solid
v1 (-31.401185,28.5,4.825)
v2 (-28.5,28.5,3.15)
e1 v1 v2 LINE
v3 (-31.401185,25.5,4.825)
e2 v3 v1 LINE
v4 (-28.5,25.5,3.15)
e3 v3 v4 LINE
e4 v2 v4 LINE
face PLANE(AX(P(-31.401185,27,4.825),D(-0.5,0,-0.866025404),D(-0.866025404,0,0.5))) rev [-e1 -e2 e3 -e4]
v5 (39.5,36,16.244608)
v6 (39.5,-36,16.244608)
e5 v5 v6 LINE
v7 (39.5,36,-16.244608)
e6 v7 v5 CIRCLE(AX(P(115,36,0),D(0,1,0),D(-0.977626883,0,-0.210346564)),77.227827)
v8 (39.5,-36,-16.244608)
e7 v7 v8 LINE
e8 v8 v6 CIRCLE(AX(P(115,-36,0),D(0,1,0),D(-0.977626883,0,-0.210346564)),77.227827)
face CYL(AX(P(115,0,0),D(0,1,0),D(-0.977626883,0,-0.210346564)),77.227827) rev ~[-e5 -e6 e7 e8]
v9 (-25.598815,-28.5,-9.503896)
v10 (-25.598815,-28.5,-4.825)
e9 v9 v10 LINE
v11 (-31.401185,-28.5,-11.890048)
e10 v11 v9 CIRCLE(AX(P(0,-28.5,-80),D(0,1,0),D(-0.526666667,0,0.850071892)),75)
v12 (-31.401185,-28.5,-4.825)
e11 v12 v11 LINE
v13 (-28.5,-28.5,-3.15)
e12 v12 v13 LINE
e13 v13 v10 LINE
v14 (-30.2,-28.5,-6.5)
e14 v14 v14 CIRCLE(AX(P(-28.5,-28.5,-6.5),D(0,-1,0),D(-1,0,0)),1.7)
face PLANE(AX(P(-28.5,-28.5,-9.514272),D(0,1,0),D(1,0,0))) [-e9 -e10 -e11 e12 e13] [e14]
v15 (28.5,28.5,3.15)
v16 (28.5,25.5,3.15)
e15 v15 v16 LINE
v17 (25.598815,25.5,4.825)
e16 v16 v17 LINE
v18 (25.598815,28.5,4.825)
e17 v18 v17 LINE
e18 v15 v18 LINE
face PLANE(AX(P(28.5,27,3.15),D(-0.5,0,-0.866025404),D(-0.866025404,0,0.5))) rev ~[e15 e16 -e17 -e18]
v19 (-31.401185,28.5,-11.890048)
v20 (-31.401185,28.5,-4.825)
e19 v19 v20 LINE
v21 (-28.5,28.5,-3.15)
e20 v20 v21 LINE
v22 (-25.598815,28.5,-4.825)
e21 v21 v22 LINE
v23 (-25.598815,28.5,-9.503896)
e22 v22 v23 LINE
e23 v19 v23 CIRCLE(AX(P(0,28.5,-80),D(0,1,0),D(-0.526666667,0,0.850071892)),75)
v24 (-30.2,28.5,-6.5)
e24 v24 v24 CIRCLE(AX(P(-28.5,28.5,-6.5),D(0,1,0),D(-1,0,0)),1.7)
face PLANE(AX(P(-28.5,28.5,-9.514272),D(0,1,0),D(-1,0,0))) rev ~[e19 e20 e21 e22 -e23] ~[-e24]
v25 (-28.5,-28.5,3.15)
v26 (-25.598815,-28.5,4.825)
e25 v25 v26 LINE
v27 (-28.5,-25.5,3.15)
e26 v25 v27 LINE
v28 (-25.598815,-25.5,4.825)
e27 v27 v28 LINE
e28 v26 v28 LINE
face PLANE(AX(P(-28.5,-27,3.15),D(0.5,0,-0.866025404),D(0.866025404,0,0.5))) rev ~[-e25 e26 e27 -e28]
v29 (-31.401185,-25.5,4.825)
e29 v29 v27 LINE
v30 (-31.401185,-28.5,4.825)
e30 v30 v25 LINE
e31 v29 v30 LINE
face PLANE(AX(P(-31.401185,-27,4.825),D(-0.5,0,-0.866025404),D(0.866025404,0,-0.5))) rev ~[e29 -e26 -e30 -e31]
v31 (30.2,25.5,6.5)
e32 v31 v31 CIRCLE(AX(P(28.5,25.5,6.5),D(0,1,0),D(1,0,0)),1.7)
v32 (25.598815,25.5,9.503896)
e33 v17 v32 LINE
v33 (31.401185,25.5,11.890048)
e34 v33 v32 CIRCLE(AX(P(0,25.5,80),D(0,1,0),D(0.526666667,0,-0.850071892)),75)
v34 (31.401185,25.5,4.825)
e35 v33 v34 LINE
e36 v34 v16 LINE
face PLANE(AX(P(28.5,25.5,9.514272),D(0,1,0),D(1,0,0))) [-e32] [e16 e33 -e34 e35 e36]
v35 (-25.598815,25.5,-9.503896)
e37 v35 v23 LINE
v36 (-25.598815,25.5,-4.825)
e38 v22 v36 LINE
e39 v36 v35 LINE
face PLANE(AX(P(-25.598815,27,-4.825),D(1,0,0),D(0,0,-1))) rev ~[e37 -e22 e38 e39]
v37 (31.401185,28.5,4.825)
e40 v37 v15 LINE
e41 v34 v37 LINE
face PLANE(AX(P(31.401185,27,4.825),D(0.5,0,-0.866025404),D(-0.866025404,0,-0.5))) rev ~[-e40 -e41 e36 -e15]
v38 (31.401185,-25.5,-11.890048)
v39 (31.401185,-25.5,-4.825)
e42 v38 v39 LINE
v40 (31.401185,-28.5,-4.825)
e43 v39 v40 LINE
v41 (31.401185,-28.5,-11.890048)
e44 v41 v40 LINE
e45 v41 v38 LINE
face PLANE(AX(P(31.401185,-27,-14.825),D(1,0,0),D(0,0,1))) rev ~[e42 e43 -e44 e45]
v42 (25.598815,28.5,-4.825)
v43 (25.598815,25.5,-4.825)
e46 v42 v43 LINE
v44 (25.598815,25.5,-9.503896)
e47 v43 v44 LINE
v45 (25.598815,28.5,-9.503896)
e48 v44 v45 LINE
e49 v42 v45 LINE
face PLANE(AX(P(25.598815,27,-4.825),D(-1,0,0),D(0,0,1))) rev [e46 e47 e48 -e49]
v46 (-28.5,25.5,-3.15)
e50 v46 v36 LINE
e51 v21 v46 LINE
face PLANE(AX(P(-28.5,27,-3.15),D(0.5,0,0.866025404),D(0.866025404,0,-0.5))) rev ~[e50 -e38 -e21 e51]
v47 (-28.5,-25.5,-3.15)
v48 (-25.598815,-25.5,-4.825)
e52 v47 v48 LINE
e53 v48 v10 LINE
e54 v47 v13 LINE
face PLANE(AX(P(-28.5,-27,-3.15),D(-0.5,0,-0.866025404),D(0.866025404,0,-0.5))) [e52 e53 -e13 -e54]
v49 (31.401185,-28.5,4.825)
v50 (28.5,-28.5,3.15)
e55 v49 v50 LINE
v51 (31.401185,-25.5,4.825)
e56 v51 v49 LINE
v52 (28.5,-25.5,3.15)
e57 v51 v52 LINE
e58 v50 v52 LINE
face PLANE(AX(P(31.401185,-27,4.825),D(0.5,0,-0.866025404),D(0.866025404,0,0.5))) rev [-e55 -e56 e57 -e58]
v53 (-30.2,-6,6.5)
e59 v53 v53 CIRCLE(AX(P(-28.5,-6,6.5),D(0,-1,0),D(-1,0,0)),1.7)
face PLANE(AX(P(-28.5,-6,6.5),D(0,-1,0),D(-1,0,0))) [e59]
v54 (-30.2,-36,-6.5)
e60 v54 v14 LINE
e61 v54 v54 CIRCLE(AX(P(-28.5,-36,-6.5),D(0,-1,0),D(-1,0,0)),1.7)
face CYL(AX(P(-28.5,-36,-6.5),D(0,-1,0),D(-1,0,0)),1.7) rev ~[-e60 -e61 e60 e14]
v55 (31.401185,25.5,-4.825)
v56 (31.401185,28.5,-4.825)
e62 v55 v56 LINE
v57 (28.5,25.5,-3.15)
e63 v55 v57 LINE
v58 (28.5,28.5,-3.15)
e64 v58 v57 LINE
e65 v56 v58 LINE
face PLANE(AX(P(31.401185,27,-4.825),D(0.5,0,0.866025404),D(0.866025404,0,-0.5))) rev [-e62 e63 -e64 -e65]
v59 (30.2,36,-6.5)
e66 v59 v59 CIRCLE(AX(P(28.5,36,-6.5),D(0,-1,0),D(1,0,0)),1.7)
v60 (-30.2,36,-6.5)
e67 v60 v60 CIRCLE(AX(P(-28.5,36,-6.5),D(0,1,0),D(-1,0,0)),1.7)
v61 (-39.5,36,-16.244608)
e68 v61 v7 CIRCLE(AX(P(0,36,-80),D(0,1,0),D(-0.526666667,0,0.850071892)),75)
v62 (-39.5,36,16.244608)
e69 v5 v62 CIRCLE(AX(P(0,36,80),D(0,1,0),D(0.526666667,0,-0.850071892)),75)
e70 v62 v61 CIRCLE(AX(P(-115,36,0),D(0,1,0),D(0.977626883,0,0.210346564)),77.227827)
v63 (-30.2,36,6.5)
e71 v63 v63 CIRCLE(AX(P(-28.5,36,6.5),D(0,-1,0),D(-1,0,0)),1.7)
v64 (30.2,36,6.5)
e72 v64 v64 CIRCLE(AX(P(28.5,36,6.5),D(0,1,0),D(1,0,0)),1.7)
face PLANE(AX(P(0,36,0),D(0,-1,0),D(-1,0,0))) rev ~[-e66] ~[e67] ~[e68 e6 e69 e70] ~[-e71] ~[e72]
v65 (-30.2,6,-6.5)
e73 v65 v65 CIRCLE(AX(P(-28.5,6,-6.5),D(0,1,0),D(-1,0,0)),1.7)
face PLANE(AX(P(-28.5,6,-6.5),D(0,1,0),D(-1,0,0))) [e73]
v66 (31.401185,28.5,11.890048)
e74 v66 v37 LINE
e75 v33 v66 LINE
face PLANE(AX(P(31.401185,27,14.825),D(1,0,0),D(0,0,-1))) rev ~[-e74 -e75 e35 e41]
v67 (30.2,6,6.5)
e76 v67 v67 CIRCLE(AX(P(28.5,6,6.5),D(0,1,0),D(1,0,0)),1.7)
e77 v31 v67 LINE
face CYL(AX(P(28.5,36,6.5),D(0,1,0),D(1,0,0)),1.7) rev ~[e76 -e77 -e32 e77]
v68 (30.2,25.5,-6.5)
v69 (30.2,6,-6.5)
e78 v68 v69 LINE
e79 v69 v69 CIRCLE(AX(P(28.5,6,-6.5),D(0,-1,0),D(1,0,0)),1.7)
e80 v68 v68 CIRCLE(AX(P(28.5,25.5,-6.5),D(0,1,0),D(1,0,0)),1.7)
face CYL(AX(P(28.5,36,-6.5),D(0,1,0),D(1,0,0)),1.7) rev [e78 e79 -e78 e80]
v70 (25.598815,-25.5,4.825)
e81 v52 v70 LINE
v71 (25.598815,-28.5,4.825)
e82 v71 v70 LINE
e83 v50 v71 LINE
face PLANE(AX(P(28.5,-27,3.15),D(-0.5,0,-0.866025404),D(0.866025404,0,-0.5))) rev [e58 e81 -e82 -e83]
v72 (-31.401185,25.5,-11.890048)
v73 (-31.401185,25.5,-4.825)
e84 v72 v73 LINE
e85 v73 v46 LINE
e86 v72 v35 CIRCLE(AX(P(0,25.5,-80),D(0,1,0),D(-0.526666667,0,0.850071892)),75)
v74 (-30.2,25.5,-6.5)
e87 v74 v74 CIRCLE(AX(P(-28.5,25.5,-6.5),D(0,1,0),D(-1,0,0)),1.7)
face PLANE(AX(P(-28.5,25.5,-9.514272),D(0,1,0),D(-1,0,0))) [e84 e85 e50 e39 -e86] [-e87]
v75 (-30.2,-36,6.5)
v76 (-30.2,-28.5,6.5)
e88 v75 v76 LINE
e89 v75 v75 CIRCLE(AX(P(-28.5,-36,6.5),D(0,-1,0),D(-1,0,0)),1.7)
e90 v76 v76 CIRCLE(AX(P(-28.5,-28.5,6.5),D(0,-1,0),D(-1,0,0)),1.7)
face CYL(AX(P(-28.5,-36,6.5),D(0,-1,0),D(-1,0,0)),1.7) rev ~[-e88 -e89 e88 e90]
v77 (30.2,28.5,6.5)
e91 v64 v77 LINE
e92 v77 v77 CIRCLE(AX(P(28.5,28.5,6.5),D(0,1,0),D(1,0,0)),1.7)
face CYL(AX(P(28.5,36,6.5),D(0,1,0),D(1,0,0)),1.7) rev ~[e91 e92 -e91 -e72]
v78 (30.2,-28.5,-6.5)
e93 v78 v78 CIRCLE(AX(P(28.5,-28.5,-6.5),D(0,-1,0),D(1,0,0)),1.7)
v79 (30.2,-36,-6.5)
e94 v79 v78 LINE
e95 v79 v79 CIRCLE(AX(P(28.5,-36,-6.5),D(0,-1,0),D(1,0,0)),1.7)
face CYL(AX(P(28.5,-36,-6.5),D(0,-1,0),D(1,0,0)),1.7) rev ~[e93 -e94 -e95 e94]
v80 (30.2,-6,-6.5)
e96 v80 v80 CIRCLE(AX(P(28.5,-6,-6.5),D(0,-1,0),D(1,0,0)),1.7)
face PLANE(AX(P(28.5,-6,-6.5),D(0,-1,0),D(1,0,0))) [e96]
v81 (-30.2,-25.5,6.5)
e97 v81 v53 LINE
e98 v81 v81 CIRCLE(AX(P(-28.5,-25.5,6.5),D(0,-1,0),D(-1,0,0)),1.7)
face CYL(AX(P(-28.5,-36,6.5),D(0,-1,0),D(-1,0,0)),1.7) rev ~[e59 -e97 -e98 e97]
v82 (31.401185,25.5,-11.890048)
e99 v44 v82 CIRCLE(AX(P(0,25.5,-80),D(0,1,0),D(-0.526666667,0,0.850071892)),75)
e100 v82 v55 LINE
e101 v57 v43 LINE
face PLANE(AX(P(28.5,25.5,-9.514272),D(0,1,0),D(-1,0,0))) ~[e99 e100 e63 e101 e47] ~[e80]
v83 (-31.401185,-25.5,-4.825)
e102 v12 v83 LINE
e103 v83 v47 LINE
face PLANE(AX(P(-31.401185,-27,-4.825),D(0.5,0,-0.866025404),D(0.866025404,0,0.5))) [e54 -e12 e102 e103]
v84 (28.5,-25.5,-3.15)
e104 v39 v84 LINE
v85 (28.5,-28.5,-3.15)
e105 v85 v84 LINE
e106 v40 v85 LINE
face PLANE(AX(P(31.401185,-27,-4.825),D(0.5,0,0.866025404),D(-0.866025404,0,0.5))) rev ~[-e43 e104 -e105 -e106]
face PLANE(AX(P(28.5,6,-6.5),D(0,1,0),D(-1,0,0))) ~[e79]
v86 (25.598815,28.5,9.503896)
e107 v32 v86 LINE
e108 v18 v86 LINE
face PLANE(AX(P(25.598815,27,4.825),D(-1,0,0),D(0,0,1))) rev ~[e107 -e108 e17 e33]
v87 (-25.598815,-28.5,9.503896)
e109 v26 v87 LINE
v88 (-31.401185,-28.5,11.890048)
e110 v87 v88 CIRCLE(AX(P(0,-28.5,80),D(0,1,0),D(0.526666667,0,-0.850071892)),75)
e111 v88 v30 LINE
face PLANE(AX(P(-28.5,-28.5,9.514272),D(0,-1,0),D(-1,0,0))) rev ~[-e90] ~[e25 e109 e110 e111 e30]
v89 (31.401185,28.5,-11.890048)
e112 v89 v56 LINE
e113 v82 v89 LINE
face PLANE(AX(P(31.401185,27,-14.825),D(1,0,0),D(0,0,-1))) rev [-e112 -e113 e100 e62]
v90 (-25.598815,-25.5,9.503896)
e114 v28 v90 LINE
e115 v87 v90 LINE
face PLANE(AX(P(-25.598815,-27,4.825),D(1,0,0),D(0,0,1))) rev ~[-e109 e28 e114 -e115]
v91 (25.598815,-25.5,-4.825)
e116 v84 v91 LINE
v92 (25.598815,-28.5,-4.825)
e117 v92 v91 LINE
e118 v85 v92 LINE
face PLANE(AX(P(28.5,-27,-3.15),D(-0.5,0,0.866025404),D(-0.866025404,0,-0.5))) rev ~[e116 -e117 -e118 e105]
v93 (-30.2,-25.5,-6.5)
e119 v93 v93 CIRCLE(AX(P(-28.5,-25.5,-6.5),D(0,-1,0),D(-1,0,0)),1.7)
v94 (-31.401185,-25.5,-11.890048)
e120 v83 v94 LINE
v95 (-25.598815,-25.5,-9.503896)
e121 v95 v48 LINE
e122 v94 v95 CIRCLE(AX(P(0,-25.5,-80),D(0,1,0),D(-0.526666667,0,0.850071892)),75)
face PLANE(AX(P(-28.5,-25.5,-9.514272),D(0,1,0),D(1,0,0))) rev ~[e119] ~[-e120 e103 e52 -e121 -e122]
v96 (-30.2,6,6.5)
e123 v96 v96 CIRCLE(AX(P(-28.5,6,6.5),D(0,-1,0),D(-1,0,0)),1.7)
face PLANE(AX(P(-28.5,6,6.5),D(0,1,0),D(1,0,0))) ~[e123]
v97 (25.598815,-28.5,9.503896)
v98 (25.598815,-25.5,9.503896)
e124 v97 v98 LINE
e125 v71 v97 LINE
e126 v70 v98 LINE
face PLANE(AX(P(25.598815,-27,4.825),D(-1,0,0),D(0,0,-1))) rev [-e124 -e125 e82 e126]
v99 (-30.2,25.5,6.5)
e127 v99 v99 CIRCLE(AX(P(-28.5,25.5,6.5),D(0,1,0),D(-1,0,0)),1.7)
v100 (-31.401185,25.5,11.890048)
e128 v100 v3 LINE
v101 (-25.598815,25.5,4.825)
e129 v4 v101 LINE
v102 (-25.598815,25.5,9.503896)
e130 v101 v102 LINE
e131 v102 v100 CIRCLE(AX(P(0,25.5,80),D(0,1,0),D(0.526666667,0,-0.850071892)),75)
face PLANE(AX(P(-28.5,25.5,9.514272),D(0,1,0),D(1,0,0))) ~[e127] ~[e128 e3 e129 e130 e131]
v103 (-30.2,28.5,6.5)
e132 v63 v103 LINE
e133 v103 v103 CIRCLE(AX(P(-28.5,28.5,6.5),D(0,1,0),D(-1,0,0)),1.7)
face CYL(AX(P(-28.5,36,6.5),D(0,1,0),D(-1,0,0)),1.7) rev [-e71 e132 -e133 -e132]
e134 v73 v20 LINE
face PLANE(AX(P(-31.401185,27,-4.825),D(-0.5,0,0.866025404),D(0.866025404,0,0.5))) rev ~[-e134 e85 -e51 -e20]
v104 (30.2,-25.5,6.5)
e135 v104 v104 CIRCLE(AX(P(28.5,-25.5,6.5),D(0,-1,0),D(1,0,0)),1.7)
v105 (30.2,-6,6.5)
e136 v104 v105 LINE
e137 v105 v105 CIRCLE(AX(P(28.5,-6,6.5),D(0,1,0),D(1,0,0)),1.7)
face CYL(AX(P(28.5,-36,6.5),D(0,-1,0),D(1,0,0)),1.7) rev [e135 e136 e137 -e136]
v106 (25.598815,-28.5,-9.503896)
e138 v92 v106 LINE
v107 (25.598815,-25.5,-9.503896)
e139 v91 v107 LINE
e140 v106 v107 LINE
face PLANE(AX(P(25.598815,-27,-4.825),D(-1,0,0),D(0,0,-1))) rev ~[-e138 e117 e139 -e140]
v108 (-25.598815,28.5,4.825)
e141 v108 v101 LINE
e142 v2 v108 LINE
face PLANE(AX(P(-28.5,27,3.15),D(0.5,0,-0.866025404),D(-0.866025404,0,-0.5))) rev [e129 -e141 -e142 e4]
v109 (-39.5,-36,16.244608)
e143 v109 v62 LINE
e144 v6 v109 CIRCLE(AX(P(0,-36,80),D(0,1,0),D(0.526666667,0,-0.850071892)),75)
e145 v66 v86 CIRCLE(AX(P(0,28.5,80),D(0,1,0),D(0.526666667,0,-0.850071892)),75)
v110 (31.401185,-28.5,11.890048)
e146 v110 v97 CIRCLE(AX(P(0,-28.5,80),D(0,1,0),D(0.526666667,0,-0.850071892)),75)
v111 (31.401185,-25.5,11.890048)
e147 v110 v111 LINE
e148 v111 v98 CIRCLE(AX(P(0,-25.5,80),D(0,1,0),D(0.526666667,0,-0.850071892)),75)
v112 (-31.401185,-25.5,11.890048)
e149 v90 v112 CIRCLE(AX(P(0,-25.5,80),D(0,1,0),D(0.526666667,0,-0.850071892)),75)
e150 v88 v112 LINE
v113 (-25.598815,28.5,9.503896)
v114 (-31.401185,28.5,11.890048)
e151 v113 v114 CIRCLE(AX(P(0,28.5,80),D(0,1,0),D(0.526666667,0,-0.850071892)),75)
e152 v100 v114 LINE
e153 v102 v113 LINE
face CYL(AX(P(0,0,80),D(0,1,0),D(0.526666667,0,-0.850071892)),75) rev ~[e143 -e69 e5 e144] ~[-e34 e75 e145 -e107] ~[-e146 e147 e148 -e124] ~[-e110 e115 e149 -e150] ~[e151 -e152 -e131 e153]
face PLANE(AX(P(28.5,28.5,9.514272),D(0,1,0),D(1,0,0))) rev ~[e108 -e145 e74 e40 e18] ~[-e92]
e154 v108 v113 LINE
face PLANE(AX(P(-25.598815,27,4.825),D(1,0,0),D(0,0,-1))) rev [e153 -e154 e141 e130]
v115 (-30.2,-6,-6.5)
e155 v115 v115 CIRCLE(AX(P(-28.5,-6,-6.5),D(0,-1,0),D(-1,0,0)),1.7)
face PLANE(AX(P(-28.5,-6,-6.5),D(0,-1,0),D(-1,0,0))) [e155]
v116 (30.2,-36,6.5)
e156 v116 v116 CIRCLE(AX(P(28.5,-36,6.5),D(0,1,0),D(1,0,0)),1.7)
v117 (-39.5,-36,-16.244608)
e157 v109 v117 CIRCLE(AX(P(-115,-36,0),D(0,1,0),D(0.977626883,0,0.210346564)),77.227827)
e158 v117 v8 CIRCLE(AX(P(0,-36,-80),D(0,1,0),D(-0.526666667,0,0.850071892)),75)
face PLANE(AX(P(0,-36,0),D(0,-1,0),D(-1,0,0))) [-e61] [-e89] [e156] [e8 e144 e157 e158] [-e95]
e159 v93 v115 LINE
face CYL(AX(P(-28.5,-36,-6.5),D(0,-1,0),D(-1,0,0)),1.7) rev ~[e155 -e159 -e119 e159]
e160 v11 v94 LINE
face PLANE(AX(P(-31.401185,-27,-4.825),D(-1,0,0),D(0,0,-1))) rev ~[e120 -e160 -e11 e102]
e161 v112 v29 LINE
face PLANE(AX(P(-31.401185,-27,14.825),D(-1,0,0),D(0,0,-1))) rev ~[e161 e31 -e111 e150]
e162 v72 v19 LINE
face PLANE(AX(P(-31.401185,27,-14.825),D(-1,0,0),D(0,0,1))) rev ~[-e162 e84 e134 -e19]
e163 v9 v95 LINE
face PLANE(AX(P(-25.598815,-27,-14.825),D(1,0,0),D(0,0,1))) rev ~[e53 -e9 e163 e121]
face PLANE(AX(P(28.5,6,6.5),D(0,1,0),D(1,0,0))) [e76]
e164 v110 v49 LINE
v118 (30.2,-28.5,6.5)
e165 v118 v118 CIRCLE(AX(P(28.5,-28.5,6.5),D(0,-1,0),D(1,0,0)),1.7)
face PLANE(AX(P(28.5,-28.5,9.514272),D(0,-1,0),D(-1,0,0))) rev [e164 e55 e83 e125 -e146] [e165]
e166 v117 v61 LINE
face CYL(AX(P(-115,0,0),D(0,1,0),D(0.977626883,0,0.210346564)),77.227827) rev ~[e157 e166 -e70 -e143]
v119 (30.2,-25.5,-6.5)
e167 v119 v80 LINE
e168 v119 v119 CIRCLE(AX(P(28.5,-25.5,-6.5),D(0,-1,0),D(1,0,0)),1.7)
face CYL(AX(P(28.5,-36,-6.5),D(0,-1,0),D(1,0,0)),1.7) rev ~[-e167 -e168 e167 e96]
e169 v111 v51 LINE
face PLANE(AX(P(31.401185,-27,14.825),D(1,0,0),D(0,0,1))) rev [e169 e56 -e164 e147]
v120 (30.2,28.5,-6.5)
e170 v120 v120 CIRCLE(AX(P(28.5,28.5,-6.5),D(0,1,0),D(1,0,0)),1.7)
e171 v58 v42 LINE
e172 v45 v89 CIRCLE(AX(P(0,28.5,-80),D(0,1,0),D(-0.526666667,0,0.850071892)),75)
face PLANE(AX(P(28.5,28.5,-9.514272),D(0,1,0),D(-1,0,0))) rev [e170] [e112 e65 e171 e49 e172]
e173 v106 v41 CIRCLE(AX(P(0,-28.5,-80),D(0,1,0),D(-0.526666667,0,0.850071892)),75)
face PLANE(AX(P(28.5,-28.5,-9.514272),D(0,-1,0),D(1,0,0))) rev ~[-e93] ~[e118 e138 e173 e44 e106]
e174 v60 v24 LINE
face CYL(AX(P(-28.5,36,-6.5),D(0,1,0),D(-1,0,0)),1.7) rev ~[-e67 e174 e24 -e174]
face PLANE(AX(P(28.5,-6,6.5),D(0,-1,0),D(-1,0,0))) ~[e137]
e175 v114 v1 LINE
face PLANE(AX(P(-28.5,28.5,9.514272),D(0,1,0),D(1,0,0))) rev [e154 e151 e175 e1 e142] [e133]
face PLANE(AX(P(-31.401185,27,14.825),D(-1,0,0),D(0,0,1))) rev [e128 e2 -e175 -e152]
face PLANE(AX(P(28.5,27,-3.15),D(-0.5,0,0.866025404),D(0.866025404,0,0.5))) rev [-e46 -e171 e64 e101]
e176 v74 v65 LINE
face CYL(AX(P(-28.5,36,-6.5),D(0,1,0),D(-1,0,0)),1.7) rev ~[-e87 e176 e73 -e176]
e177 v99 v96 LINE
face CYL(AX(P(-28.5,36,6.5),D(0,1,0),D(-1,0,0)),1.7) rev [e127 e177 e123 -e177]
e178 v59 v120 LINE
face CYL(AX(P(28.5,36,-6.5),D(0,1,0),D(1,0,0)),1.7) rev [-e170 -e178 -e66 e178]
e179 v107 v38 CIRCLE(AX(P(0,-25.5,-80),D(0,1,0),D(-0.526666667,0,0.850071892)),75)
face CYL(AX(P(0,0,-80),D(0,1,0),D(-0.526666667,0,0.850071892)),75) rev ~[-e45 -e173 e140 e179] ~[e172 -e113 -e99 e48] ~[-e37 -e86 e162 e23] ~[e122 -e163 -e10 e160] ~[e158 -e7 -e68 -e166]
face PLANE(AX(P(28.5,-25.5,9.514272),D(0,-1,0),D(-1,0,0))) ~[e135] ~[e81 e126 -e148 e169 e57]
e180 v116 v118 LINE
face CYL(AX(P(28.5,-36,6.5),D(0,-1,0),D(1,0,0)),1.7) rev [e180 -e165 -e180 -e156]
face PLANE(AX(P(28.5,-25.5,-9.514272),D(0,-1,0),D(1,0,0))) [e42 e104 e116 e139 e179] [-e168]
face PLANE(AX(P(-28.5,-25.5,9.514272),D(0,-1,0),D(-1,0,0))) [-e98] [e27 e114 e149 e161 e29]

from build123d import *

# Parameters (mm, degrees)
SALIENTE_EXTRUIR1_DEPTH      = 36
SALIENTE_EXTRUIR1_DEPTH_BACK = 36
CROQUIS2_R                   = 1.7
CORTAR_EXTRUIR1_DEPTH        = 30
CORTAR_EXTRUIR2_DEPTH        = 1.5
SIMETR_A2_COPY_1_SKETCH_R    = 1.7
SIMETR_A2_COPY_1_DEPTH       = 30
SIMETR_A2_COPY_2_DEPTH       = 1.5
SIMETR_A3_COPY_1_SKETCH_R    = 1.7
SIMETR_A3_COPY_1_DEPTH       = 30
SIMETR_A3_COPY_2_DEPTH       = 1.5
SIMETR_A3_COPY_3_SKETCH_R    = 1.7
SIMETR_A3_COPY_3_DEPTH       = 30
SIMETR_A3_COPY_4_DEPTH       = 1.5
SIMETR_A3_COPY_5_SKETCH_R    = 1.7
SIMETR_A3_COPY_5_DEPTH       = 30
SIMETR_A3_COPY_6_DEPTH       = 1.5


with BuildPart() as part:
    # Croquis1 → Saliente-Extruir1 (new body, two sides)
    with BuildSketch(Plane(origin=(0, 0, 0), x_dir=(1, 0, 0), z_dir=(0, 1, 0))) as saliente_extruir1_sk:
        with BuildLine():
            ThreePointArc((-39.5, 16.244608071), (0, 5), (39.5, 16.244608071))
            ThreePointArc((39.5, 16.244608071), (37.772172817, 0), (39.5, -16.244608071))
            ThreePointArc((39.5, -16.244608071), (0, -5), (-39.5, -16.244608071))
            ThreePointArc((-39.5, -16.244608071), (-37.772172817, 0), (-39.5, 16.244608071))
        make_face()
    extrude(amount=SALIENTE_EXTRUIR1_DEPTH)
    extrude(saliente_extruir1_sk.sketch, amount=-SALIENTE_EXTRUIR1_DEPTH_BACK)

    # Croquis2 → Cortar-Extruir1 (cut)
    with BuildSketch(Plane(origin=(0, 36, 0), x_dir=(1, 0, 0), z_dir=(0, 1, 0))):
        with Locations((28.5, -6.5)):
            Circle(CROQUIS2_R)
    cortar_extruir1 = extrude(amount=-CORTAR_EXTRUIR1_DEPTH, mode=Mode.SUBTRACT)

    # Croquis3 → Cortar-Extruir2 (cut, symmetric)
    with BuildSketch(Plane(origin=(0, 27, 0), x_dir=(1, 0, 0), z_dir=(0, 1, 0))):
        Polygon((25.598814897, -8.175), (25.598814897, -14.825), (31.401185103, -14.825), (31.401185103, -8.175), (31.401185103, -4.825), (28.5, -3.15), (25.598814897, -4.825), align=None)
    cortar_extruir2 = extrude(amount=CORTAR_EXTRUIR2_DEPTH, both=True, mode=Mode.SUBTRACT)

    # Simetr_a1: Cortar-Extruir1, Cortar-Extruir2 across plane
    add(cortar_extruir1.mirror(Plane.XY), mode=Mode.SUBTRACT)
    add(cortar_extruir2.mirror(Plane.XY), mode=Mode.SUBTRACT)

    # Simetr_a2: Cortar-Extruir1, Cortar-Extruir2 across plane
    add(cortar_extruir1.mirror(Plane(origin=(0, 0, 0), x_dir=(0, 0, 1), z_dir=(1, 0, 0))), mode=Mode.SUBTRACT)
    add(cortar_extruir2.mirror(Plane(origin=(0, 0, 0), x_dir=(0, 0, 1), z_dir=(1, 0, 0))), mode=Mode.SUBTRACT)

    # Simetr_a2 copy 1 sketch → Simetr_a2 copy 1 (cut)
    with BuildSketch(Plane(origin=(0, 36, 0), x_dir=(-1, 0, 0), z_dir=(0, 1, 0))):
        with Locations((28.5, -6.5)):
            Circle(SIMETR_A2_COPY_1_SKETCH_R)
    extrude(amount=-SIMETR_A2_COPY_1_DEPTH, mode=Mode.SUBTRACT)

    # Simetr_a2 copy 2 sketch → Simetr_a2 copy 2 (cut, symmetric)
    with BuildSketch(Plane(origin=(0, 27, 0), x_dir=(-1, 0, 0), z_dir=(0, 1, 0))):
        Polygon((25.598814897, -8.175), (25.598814897, -14.825), (31.401185103, -14.825), (31.401185103, -8.175), (31.401185103, -4.825), (28.5, -3.15), (25.598814897, -4.825), align=None)
    extrude(amount=SIMETR_A2_COPY_2_DEPTH, both=True, mode=Mode.SUBTRACT)

    # Simetr_a3: Cortar-Extruir1, Cortar-Extruir2 across plane
    add(cortar_extruir1.mirror(Plane.ZX), mode=Mode.SUBTRACT)
    add(cortar_extruir2.mirror(Plane.ZX), mode=Mode.SUBTRACT)

    # Simetr_a3 copy 1 sketch → Simetr_a3 copy 1 (cut)
    with BuildSketch(Plane(origin=(0, -36, 0), x_dir=(-1, 0, 0), z_dir=(0, -1, 0))):
        with Locations((28.5, -6.5)):
            Circle(SIMETR_A3_COPY_1_SKETCH_R)
    extrude(amount=-SIMETR_A3_COPY_1_DEPTH, mode=Mode.SUBTRACT)

    # Simetr_a3 copy 2 sketch → Simetr_a3 copy 2 (cut, symmetric)
    with BuildSketch(Plane(origin=(0, -27, 0), x_dir=(-1, 0, 0), z_dir=(0, -1, 0))):
        Polygon((25.598814897, -8.175), (25.598814897, -14.825), (31.401185103, -14.825), (31.401185103, -8.175), (31.401185103, -4.825), (28.5, -3.15), (25.598814897, -4.825), align=None)
    extrude(amount=SIMETR_A3_COPY_2_DEPTH, both=True, mode=Mode.SUBTRACT)

    # Simetr_a3 copy 3 sketch → Simetr_a3 copy 3 (cut)
    with BuildSketch(Plane(origin=(0, -36, 0), x_dir=(-1, 0, 0), z_dir=(0, -1, 0))):
        with Locations((28.5, 6.5)):
            Circle(SIMETR_A3_COPY_3_SKETCH_R)
    extrude(amount=-SIMETR_A3_COPY_3_DEPTH, mode=Mode.SUBTRACT)

    # Simetr_a3 copy 4 sketch → Simetr_a3 copy 4 (cut, symmetric)
    with BuildSketch(Plane(origin=(0, -27, 0), x_dir=(-1, 0, 0), z_dir=(0, -1, 0))):
        Polygon((25.598814897, 8.175), (25.598814897, 14.825), (31.401185103, 14.825), (31.401185103, 8.175), (31.401185103, 4.825), (28.5, 3.15), (25.598814897, 4.825), align=None)
    extrude(amount=SIMETR_A3_COPY_4_DEPTH, both=True, mode=Mode.SUBTRACT)

    # Simetr_a3 copy 5 sketch → Simetr_a3 copy 5 (cut)
    with BuildSketch(Plane.XZ.offset(36)):
        with Locations((28.5, -6.5)):
            Circle(SIMETR_A3_COPY_5_SKETCH_R)
    extrude(amount=-SIMETR_A3_COPY_5_DEPTH, mode=Mode.SUBTRACT)

    # Simetr_a3 copy 6 sketch → Simetr_a3 copy 6 (cut, symmetric)
    with BuildSketch(Plane.XZ.offset(27)):
        Polygon((25.598814897, -8.175), (25.598814897, -14.825), (31.401185103, -14.825), (31.401185103, -8.175), (31.401185103, -4.825), (28.5, -3.15), (25.598814897, -4.825), align=None)
    extrude(amount=SIMETR_A3_COPY_6_DEPTH, both=True, mode=Mode.SUBTRACT)


solid = part.part
